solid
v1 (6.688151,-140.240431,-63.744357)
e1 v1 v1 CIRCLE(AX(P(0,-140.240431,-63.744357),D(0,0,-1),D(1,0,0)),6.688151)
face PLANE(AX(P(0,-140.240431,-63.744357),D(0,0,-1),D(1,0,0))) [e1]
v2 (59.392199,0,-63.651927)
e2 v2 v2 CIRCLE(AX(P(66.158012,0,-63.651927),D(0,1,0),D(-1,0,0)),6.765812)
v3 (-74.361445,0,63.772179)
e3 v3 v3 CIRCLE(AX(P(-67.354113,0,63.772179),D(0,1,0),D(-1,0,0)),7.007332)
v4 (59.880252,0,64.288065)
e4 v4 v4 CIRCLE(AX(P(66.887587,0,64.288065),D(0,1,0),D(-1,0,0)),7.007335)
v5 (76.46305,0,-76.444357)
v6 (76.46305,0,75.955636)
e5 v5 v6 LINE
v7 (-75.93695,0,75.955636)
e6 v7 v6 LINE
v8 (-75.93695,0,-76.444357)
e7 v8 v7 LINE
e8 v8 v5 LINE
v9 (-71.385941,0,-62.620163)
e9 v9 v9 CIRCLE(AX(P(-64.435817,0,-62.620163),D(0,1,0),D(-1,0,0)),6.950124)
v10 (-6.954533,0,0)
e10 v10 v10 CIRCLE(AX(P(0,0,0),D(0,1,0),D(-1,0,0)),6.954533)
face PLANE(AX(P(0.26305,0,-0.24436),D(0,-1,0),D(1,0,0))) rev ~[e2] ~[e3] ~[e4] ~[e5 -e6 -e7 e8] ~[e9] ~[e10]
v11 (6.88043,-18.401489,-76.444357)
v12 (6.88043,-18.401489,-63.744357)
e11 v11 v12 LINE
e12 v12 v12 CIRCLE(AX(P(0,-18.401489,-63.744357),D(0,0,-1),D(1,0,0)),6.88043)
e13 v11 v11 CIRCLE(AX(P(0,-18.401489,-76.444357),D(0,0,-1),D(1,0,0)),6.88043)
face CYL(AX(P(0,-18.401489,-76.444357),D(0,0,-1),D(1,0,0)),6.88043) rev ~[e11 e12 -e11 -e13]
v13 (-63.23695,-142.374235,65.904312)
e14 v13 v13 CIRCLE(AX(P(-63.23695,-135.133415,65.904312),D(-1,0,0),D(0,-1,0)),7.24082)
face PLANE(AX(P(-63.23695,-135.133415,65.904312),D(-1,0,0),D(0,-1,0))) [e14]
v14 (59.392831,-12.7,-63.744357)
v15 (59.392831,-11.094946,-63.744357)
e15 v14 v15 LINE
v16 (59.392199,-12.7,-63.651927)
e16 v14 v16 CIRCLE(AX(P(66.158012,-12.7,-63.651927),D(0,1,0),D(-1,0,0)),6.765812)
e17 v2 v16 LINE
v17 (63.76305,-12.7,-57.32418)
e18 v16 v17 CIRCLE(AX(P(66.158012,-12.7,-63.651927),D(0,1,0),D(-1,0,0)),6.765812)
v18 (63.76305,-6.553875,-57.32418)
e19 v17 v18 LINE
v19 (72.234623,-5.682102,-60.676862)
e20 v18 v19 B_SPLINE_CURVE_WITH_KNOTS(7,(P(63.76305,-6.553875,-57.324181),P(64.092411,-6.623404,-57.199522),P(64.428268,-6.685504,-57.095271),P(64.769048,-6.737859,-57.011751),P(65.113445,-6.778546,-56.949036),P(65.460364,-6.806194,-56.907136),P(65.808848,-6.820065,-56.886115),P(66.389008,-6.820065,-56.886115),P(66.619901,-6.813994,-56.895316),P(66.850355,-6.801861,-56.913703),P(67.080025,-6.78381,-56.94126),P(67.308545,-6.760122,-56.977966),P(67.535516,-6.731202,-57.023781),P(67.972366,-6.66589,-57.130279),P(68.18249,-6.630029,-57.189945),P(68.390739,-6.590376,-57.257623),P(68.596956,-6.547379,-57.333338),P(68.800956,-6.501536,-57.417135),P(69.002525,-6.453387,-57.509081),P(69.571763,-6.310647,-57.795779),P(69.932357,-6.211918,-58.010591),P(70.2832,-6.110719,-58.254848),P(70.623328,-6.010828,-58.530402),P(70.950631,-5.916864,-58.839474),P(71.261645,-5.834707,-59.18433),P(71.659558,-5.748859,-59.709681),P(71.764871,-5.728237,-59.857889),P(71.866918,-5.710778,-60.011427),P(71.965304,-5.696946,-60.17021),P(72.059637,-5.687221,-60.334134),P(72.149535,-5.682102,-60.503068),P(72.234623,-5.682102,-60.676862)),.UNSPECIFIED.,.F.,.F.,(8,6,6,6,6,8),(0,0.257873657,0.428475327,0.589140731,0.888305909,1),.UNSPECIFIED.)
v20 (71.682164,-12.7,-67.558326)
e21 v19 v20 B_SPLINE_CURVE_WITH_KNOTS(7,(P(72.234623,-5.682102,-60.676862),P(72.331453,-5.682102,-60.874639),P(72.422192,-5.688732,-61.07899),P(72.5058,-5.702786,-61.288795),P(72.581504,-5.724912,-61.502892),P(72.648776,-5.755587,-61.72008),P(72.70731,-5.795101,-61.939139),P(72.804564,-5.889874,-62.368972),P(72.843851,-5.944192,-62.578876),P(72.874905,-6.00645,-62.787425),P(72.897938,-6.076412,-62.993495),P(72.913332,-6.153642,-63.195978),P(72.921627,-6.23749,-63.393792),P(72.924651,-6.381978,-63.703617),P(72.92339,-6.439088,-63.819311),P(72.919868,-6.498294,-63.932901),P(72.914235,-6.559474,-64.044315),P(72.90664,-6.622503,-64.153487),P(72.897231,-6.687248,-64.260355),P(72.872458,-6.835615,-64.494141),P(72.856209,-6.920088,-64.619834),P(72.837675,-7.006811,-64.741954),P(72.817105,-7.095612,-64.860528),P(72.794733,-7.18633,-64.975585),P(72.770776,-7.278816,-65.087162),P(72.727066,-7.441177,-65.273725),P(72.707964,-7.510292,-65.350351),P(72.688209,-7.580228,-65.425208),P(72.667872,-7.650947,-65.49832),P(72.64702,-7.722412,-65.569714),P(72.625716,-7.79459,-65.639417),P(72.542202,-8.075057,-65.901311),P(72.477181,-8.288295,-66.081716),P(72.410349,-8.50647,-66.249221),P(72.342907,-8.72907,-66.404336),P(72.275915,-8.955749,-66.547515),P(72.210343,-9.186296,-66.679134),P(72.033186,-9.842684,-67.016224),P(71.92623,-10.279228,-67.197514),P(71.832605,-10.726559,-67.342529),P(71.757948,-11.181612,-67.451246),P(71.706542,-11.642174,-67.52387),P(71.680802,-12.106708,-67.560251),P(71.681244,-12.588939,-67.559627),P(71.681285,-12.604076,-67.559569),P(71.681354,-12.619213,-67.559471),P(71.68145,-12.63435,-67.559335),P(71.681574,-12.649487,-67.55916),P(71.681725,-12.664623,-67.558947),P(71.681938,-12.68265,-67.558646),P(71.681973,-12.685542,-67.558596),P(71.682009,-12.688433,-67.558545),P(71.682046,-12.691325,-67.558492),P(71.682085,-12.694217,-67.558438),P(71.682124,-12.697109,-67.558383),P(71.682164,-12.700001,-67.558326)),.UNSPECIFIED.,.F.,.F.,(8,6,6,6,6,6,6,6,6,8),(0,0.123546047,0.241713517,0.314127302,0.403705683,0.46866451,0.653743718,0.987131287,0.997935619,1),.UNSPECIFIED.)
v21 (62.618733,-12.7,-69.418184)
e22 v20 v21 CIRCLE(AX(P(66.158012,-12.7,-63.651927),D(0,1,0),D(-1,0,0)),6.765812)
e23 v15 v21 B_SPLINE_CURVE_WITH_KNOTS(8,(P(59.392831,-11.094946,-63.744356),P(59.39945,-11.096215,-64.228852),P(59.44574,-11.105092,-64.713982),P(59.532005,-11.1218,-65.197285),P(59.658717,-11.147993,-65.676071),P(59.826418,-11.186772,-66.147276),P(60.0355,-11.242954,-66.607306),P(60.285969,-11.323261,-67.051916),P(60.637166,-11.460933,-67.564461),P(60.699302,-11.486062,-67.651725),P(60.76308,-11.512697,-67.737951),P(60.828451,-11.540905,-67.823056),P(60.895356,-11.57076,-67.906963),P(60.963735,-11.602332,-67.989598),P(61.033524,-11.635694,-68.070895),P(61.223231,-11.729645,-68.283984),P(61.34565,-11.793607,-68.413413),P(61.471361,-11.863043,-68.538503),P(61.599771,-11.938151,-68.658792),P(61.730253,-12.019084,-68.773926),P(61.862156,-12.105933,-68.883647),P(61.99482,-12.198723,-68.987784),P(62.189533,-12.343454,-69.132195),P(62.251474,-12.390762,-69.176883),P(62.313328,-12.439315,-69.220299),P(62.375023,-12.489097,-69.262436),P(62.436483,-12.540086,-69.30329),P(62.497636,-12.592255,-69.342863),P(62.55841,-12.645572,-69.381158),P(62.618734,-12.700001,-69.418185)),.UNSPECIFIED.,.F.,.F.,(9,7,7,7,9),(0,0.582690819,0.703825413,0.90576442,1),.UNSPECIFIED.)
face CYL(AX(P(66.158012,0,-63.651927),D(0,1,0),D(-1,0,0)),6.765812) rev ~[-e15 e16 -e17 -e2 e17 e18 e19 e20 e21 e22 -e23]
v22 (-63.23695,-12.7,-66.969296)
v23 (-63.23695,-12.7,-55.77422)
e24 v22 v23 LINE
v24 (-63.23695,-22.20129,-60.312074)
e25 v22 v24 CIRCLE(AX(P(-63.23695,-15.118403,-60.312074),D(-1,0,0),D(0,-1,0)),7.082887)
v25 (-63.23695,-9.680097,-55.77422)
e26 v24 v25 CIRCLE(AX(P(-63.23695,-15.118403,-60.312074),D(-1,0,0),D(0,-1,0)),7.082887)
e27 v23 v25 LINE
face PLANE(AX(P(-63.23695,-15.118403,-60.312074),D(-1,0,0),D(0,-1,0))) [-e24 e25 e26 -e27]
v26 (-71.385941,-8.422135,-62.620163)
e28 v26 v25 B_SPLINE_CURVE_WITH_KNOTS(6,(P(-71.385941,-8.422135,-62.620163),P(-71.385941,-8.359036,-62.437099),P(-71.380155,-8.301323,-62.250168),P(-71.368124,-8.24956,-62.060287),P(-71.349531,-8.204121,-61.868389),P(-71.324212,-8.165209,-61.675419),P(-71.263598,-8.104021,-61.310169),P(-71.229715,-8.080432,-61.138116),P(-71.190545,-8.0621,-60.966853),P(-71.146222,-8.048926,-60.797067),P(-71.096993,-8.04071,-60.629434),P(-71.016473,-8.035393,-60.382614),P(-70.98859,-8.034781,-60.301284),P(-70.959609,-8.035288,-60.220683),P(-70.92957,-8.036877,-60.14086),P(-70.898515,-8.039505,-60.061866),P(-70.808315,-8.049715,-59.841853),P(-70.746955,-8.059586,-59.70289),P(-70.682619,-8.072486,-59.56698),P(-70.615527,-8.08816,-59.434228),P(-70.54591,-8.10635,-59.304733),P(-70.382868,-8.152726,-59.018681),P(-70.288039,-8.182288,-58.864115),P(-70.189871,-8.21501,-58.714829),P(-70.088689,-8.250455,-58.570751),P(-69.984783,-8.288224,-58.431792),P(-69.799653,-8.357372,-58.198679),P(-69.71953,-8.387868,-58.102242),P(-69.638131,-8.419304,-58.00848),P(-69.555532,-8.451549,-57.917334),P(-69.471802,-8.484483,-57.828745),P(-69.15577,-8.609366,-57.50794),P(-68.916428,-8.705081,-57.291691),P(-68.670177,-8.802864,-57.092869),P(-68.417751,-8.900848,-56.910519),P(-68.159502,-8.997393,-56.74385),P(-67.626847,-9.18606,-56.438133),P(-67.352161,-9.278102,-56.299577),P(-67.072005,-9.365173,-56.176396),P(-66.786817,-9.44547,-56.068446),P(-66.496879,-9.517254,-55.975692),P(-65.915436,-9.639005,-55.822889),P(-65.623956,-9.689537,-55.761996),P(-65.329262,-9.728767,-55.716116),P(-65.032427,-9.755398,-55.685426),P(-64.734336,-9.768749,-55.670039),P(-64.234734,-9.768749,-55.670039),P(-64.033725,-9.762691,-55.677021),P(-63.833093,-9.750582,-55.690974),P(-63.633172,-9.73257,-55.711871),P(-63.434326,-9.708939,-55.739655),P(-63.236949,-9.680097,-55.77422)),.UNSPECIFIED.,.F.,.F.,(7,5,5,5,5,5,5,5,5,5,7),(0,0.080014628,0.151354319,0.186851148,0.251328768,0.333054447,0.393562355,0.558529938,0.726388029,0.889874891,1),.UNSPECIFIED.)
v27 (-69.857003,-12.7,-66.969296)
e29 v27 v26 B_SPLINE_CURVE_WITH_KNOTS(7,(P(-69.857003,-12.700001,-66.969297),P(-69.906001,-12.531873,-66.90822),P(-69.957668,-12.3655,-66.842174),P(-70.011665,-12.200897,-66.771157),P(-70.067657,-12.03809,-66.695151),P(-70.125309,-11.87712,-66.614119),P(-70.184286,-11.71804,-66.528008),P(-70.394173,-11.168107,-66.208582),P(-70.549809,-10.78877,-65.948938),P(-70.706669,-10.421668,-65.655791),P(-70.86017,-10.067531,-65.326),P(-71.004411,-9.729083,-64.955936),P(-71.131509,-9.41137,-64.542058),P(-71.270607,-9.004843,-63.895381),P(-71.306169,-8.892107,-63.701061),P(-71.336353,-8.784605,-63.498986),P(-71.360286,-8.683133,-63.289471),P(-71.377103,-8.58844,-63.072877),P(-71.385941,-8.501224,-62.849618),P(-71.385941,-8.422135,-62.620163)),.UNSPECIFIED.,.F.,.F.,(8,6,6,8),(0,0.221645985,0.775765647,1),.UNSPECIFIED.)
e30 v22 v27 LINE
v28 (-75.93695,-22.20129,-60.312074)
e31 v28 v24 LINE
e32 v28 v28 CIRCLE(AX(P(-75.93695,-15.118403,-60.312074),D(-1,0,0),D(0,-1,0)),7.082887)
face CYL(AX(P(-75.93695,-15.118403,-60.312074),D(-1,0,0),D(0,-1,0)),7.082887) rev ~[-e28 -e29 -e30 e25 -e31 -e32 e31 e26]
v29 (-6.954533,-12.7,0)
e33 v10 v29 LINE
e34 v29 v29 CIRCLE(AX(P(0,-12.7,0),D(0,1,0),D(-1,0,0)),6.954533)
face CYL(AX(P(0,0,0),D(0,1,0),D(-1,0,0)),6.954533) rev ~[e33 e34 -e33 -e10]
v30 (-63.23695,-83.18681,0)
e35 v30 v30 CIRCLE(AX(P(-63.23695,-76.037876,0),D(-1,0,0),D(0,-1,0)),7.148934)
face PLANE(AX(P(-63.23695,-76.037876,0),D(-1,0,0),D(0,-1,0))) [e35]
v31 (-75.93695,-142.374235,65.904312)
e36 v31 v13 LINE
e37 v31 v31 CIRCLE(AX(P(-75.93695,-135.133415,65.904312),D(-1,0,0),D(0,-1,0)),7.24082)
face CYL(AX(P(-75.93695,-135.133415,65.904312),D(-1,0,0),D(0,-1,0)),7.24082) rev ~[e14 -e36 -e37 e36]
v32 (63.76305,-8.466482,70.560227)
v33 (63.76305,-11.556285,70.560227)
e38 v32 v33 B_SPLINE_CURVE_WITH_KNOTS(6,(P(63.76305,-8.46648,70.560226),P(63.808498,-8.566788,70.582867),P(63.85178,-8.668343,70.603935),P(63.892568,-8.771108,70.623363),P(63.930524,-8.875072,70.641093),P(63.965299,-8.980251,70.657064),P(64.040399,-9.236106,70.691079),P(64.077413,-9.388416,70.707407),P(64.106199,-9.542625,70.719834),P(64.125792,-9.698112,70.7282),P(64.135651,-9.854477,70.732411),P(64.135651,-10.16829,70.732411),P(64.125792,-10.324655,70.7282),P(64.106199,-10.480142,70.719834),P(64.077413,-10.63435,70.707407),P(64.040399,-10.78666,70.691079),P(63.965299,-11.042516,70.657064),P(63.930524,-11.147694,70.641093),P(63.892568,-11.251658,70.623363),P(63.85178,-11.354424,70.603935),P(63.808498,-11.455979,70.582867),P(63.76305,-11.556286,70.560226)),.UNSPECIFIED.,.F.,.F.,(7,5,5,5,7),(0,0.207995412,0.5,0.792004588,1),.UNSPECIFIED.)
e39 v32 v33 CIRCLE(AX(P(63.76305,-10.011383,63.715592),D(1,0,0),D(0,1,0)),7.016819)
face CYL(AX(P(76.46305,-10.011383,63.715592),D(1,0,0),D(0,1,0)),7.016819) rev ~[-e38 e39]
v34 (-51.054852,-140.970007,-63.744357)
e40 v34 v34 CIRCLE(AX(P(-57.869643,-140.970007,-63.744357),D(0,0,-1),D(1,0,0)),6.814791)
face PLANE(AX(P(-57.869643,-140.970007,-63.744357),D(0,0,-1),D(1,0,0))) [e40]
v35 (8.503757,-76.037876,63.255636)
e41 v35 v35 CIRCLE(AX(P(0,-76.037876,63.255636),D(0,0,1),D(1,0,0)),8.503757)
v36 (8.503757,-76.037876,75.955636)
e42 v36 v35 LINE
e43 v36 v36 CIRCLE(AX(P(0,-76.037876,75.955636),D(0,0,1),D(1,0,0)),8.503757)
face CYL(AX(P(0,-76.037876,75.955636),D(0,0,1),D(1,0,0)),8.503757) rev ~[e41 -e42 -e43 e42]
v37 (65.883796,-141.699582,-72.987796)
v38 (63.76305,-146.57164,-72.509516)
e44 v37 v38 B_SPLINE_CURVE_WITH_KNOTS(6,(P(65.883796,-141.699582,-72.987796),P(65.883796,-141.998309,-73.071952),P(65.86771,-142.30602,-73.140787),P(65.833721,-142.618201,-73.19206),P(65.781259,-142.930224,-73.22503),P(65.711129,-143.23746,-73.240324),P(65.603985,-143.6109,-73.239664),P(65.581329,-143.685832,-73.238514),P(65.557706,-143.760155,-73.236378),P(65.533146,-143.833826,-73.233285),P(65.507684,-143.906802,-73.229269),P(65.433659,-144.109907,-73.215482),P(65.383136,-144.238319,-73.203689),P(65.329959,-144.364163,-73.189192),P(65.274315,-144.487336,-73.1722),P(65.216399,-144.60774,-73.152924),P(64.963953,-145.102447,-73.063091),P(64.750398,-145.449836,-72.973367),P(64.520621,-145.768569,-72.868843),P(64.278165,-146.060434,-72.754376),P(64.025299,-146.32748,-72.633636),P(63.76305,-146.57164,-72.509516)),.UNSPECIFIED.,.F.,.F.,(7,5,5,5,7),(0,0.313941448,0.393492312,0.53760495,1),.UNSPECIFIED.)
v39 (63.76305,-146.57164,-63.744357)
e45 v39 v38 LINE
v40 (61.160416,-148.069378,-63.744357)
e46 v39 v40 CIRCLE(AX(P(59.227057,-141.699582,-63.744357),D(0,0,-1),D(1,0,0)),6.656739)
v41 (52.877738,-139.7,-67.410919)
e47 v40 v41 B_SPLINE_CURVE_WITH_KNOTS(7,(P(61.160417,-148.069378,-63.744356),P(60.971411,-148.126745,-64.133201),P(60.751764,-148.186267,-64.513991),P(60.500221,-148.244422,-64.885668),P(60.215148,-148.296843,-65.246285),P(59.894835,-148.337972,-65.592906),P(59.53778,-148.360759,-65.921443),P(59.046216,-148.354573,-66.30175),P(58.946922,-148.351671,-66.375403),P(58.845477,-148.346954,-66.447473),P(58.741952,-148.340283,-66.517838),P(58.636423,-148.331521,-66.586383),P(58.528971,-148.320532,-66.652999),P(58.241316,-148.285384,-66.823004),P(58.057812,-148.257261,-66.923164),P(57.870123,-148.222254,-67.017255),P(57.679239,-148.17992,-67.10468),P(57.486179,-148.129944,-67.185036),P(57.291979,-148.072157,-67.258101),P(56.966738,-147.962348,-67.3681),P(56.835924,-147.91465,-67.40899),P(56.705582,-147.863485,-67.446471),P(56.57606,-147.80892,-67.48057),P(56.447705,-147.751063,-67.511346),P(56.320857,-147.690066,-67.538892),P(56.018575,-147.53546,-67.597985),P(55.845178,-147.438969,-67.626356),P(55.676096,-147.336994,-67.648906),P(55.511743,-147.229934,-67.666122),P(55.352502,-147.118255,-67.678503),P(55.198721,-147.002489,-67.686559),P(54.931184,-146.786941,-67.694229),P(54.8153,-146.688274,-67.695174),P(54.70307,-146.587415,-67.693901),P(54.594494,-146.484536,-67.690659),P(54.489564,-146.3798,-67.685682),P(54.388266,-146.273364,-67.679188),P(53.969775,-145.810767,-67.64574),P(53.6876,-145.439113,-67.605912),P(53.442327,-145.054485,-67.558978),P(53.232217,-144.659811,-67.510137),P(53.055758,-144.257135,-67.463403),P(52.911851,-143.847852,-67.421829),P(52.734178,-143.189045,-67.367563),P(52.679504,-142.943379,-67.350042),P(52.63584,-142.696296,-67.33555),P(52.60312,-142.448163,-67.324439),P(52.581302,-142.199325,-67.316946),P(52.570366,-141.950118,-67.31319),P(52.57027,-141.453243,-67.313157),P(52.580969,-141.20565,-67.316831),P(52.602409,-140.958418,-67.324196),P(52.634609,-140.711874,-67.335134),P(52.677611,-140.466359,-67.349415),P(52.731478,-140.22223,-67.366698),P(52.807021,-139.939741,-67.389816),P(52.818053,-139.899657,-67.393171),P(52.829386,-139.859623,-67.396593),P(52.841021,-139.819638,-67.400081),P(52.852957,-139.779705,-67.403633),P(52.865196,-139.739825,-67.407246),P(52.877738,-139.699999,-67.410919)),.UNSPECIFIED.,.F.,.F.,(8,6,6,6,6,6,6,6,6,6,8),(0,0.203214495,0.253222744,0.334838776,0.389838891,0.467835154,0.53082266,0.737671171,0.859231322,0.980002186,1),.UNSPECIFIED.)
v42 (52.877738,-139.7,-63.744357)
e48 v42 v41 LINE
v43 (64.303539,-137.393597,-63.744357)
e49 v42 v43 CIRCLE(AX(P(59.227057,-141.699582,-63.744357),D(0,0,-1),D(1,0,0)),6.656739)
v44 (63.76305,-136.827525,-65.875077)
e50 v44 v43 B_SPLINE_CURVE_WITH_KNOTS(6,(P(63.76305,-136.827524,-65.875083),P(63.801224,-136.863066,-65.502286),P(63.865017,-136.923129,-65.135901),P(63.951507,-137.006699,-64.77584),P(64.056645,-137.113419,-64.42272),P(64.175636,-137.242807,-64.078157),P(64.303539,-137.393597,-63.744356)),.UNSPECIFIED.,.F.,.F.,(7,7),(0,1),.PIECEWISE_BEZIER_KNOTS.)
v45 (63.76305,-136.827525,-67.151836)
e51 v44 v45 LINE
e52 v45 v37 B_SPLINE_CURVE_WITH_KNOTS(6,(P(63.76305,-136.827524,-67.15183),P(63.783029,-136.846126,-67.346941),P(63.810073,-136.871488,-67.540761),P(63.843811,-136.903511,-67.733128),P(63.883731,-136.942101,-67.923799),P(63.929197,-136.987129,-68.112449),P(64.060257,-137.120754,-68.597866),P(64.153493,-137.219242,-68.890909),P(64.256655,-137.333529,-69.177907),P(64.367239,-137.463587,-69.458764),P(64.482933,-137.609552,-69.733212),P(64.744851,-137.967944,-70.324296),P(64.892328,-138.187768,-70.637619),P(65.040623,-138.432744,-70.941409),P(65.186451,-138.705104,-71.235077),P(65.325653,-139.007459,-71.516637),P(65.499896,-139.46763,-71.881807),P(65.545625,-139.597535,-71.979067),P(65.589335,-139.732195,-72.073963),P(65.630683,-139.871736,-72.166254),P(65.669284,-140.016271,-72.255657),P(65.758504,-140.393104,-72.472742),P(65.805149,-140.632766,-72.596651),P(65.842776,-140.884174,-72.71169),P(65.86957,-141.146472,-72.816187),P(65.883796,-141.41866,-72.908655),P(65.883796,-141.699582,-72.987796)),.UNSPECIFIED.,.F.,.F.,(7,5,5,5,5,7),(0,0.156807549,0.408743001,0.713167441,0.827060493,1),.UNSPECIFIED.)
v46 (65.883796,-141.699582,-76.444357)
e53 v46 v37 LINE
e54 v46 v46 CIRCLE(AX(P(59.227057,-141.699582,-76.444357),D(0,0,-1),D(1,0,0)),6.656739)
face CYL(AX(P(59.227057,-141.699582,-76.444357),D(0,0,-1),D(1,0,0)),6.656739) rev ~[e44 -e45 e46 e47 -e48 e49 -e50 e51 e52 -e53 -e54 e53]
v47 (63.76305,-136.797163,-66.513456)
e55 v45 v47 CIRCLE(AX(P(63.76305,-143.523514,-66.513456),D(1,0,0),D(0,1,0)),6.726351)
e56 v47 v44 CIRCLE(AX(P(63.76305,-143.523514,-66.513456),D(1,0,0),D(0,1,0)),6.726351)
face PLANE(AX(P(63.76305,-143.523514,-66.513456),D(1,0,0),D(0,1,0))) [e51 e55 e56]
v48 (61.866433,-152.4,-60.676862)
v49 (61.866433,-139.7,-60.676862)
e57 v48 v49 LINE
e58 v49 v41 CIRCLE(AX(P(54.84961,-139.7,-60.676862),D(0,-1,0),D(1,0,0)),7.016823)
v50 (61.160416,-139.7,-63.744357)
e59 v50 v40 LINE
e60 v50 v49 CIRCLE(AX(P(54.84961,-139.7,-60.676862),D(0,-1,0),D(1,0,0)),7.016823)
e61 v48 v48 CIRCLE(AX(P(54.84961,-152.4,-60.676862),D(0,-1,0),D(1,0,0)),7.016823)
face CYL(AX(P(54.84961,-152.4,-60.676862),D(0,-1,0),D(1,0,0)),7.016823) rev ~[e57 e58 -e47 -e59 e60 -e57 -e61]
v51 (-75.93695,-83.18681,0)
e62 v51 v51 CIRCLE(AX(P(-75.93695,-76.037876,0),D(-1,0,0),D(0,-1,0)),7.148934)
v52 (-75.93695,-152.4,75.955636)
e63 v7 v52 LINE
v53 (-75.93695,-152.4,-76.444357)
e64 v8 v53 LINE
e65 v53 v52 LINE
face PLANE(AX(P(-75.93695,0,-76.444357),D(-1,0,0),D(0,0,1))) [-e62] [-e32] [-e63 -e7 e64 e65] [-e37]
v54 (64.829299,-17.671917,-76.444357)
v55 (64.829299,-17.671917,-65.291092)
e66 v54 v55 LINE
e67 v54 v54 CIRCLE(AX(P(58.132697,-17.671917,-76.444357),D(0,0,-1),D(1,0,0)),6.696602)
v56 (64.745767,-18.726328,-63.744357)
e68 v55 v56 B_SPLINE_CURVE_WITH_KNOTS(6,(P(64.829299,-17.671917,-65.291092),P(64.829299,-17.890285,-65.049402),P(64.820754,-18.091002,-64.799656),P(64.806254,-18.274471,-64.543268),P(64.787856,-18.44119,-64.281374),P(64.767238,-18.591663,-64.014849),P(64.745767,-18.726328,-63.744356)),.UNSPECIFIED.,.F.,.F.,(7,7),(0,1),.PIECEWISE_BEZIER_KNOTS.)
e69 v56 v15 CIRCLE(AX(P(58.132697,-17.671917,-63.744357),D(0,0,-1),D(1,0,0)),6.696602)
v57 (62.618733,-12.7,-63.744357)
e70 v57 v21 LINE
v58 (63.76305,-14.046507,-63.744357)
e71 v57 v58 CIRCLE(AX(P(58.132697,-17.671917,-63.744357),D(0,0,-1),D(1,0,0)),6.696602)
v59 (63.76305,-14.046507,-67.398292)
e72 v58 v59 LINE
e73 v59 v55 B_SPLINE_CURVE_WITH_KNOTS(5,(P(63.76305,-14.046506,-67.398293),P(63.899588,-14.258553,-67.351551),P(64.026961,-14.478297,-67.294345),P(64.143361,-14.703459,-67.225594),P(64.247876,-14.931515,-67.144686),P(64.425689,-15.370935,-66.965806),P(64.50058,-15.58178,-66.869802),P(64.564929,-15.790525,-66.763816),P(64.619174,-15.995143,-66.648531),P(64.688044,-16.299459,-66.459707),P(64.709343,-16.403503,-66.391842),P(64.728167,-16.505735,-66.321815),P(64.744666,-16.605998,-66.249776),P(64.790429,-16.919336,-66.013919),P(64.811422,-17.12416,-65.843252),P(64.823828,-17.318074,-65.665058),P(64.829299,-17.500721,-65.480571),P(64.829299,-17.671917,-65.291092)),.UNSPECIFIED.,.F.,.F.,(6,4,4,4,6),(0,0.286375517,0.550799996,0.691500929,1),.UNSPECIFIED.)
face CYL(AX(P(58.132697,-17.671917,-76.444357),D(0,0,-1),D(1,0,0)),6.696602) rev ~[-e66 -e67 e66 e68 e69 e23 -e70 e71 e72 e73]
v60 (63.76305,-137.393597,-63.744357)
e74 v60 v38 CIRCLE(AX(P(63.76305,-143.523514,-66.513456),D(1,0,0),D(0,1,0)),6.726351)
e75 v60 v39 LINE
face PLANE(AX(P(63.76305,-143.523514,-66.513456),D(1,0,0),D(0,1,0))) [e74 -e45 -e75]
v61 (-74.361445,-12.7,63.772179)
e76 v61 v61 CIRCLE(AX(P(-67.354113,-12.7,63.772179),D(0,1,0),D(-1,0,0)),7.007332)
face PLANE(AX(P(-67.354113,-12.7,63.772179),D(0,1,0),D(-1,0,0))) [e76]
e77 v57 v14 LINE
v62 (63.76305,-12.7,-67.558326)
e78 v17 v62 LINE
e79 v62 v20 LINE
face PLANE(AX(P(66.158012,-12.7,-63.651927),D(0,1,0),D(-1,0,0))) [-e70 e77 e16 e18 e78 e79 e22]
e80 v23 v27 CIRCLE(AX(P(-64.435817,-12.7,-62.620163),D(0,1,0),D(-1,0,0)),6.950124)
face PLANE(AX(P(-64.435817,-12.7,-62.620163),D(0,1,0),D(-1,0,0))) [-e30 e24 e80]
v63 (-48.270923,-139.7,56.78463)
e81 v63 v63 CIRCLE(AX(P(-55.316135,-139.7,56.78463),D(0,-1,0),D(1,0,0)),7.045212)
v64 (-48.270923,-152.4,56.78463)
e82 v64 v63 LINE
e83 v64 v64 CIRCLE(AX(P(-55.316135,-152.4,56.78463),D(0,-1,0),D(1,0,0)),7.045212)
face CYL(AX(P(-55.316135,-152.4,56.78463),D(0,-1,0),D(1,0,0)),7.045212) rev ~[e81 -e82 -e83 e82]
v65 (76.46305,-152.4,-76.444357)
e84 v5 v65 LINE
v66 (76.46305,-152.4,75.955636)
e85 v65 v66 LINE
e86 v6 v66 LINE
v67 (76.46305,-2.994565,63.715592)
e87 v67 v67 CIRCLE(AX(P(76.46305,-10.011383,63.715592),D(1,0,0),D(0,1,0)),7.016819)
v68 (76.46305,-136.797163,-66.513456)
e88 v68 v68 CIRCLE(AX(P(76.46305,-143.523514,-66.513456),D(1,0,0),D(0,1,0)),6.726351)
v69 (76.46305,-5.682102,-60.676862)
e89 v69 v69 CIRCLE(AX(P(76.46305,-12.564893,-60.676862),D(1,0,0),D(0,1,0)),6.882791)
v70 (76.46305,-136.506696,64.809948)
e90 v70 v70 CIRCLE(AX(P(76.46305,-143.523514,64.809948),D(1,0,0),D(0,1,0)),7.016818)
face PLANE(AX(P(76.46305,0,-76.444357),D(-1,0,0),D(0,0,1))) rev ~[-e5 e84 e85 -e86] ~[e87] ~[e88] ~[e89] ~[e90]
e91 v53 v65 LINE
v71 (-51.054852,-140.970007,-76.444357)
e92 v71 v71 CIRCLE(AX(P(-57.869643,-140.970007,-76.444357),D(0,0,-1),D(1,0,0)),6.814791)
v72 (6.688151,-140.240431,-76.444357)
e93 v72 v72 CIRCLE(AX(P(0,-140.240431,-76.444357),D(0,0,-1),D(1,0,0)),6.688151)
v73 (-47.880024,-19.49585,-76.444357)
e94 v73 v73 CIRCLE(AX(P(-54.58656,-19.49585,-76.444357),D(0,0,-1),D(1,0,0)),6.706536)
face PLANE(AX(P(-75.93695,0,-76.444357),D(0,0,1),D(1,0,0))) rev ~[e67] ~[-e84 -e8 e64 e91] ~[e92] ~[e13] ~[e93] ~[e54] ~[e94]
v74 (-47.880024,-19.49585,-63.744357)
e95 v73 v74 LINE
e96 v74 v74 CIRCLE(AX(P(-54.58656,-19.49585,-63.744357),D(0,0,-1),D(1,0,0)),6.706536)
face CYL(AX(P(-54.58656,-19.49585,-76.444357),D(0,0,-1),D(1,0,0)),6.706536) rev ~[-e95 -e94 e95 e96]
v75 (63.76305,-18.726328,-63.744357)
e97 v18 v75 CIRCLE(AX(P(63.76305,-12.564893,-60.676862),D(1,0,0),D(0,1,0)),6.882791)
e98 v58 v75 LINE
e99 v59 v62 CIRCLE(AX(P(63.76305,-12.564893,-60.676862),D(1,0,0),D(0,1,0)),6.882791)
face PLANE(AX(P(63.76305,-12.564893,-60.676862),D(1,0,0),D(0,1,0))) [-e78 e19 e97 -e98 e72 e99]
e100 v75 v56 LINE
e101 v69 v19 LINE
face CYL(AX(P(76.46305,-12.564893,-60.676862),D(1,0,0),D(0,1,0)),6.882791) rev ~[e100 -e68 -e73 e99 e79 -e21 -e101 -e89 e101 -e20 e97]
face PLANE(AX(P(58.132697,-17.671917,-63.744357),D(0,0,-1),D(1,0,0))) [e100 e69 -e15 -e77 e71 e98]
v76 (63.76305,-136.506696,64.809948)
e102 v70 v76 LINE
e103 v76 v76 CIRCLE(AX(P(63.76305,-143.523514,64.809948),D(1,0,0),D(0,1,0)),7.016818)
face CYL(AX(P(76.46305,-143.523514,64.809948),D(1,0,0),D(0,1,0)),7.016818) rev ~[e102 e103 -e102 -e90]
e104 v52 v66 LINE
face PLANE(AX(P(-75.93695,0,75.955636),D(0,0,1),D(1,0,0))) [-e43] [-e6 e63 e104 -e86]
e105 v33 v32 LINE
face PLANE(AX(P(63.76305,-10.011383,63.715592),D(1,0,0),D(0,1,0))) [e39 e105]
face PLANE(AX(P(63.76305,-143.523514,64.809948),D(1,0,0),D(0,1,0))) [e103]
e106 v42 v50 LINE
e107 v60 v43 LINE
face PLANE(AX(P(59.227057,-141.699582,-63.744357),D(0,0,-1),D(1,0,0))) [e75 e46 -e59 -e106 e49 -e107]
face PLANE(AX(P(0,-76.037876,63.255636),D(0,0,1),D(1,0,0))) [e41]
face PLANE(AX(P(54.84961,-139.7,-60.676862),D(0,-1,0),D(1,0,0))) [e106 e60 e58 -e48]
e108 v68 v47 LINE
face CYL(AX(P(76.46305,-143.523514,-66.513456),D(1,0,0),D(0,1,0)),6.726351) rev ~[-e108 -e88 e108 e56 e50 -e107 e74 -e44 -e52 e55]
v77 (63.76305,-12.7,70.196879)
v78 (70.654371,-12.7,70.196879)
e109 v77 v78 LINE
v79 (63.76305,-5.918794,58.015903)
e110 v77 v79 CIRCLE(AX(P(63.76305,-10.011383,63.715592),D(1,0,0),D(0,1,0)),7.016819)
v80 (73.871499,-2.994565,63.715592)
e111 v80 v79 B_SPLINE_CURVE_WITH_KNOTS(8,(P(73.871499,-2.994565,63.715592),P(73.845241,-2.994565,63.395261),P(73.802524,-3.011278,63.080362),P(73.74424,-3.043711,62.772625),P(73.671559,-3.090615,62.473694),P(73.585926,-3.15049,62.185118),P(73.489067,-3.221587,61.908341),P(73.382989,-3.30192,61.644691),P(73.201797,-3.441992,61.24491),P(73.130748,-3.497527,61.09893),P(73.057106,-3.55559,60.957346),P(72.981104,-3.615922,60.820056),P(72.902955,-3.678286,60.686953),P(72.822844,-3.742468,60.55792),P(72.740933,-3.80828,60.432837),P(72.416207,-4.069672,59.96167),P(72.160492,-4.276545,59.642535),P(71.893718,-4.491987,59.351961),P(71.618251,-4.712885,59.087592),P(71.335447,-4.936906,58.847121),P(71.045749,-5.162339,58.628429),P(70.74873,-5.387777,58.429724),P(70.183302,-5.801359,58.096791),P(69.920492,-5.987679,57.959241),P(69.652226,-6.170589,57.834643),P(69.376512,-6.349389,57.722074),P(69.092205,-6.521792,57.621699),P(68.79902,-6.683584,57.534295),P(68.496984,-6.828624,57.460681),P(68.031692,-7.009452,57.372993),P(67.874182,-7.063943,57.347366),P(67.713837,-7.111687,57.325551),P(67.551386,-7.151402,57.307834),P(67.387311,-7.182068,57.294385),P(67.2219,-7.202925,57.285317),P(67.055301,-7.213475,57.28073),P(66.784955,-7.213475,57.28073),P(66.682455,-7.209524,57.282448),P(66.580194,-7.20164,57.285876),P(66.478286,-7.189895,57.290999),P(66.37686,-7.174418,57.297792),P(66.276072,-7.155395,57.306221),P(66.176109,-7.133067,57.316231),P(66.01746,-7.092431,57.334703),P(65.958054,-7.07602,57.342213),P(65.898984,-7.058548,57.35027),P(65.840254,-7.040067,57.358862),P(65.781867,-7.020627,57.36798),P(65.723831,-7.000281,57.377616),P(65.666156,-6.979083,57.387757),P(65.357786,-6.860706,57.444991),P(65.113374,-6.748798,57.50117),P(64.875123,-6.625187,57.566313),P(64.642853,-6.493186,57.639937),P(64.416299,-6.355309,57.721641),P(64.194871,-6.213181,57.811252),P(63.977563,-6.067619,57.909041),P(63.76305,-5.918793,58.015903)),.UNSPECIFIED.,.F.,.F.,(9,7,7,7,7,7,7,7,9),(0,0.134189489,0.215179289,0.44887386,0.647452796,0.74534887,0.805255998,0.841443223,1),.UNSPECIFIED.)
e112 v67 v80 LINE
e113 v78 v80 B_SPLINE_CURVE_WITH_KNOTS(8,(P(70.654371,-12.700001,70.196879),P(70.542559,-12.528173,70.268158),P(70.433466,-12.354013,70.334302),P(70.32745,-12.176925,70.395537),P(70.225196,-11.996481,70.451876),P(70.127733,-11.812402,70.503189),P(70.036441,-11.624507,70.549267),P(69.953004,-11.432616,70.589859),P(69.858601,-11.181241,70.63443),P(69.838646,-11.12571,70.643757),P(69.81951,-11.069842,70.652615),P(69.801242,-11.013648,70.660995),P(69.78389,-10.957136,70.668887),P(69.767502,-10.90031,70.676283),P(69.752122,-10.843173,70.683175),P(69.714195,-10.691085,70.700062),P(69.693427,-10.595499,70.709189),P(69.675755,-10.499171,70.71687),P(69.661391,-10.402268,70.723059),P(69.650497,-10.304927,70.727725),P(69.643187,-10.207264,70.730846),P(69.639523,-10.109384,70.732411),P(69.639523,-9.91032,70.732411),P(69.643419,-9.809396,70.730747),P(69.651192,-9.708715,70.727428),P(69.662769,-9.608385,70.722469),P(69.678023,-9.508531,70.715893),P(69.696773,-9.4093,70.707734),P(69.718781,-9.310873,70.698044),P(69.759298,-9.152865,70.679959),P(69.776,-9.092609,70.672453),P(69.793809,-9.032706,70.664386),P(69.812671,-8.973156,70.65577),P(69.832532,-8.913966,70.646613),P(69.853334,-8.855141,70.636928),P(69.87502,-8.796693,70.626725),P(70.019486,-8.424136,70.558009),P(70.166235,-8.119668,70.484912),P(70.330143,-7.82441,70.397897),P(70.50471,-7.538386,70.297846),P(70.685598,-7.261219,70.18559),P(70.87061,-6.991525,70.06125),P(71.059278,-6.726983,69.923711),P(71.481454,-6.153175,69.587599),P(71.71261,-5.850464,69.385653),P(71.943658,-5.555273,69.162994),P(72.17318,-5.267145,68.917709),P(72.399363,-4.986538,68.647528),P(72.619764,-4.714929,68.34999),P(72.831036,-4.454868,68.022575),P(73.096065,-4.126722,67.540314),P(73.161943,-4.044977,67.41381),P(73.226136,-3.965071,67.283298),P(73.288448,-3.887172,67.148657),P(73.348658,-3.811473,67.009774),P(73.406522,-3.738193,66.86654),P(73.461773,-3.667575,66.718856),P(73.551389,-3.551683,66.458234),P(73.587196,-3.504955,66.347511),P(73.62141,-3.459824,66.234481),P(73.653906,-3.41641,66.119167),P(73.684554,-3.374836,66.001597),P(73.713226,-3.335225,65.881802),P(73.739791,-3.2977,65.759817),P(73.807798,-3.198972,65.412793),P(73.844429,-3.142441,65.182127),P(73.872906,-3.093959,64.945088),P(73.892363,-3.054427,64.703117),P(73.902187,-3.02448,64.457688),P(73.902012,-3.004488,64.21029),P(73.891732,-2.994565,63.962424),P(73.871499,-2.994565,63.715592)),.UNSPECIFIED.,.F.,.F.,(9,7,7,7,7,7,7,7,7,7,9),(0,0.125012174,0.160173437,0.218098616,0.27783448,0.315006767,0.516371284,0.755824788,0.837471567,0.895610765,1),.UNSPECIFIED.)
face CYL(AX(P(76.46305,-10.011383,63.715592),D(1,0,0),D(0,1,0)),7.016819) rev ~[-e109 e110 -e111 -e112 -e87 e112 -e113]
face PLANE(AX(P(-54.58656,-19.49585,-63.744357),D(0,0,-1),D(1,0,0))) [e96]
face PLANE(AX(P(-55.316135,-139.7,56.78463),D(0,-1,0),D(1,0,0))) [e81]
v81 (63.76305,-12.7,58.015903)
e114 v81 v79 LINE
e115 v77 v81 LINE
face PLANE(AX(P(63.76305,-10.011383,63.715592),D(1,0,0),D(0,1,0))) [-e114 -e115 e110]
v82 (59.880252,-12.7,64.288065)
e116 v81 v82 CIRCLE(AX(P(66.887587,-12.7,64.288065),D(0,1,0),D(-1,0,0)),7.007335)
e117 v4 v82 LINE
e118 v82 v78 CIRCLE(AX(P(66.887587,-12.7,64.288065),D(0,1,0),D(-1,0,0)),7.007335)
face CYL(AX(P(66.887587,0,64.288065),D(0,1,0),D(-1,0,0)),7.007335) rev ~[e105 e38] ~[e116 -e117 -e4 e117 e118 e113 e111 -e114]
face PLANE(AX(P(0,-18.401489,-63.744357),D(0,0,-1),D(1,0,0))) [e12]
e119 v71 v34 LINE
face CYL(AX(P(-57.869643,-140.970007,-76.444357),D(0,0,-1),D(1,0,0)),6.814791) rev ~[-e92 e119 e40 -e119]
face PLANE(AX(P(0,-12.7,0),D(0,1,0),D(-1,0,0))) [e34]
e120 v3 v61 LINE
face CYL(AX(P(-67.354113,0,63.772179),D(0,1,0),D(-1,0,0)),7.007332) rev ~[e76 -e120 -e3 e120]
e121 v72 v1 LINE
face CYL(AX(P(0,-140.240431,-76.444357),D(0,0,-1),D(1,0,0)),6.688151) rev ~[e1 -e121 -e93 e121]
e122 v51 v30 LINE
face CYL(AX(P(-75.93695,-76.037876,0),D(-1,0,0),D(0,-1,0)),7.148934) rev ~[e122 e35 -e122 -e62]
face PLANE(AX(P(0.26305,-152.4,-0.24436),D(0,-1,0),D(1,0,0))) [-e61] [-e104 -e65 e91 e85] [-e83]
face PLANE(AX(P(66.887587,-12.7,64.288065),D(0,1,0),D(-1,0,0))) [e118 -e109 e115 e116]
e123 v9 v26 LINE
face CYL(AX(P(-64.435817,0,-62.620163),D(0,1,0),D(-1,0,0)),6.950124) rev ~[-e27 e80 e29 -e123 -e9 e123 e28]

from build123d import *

# Parameters (mm, degrees)
F0_W      = 152.4
F0_H      = 152.399992557
F1_DEPTH  = 152.4
F2_R      = 8.5037572656
F3_DEPTH  = 12.7
F4_R      = 7.0073319603
F4_R_2    = 6.9501235212
F4_R_3    = 6.7658122989
F5_DEPTH  = 12.7
F6_R      = 7.0073351943
F6_R_2    = 6.9545325537
F7_DEPTH  = 12.7
F8_R      = 7.0452123399
F8_R_2    = 7.0168230938
F9_DEPTH  = 12.7
F10_R     = 7.0828869948
F10_R_2   = 7.1489340482
F10_R_3   = 7.2408196542
F11_DEPTH = 12.7
F12_R     = 6.6966018478
F12_R_2   = 6.8804301319
F12_R_3   = 6.7065356098
F12_R_4   = 6.6881507526
F12_R_5   = 6.8147907528
F12_R_6   = 6.6567393836
F13_DEPTH = 12.7
F14_R     = 7.0168186878
F14_R_2   = 6.8827909579
F14_R_3   = 7.0168182521
F14_R_4   = 6.7263512429
F15_DEPTH = 12.7


with BuildPart() as f1:
    # F0 (on Front) → F1 (new body)
    with BuildSketch(Plane.XZ):
        with Locations((0.2630501986, -0.2443604171)):
            Rectangle(F0_W, F0_H)
    extrude(amount=F1_DEPTH)

    # F2 (on face) → F3 (cut)
    with BuildSketch(Plane.XY.offset(75.9556358614)):
        with Locations((0, -76.037876308)):
            Circle(F2_R)
    extrude(amount=-F3_DEPTH, mode=Mode.SUBTRACT)

    # F4 (on face) → F5 (cut)
    with BuildSketch(Plane(origin=(0, 0, 0), x_dir=(-1, 0, 0), z_dir=(0, 1, 0))):
        with Locations((67.3541128635, 63.7721791863)):
            Circle(F4_R)
        with Locations((64.4358173013, -62.6201629639)):
            Circle(F4_R_2)
        with Locations((-66.1580115557, -63.6519268155)):
            Circle(F4_R_3)
    extrude(amount=-F5_DEPTH, mode=Mode.SUBTRACT)

    # F6 (on face) → F7 (cut)
    with BuildSketch(Plane(origin=(0, 0, 0), x_dir=(-1, 0, 0), z_dir=(0, 1, 0))):
        with Locations((-66.8875873089, 64.2880648375)):
            Circle(F6_R)
        Circle(F6_R_2)
    extrude(amount=-F7_DEPTH, mode=Mode.SUBTRACT)

    # F8 (on face) → F9 (cut)
    with BuildSketch(Plane.XZ.offset(152.4)):
        with Locations((-55.3161352873, 56.7846298218)):
            Circle(F8_R)
        with Locations((54.8496097326, -60.6768615544)):
            Circle(F8_R_2)
    extrude(amount=-F9_DEPTH, mode=Mode.SUBTRACT)

    # F10 (on face) → F11 (cut)
    with BuildSketch(Plane(origin=(-75.9369498014, 0, 0), x_dir=(0, -1, 0), z_dir=(-1, 0, 0))):
        with Locations((15.1184033602, -60.3120736778)):
            Circle(F10_R)
        with Locations((76.037876308, 0)):
            Circle(F10_R_2)
        with Locations((135.1334154606, 65.9043118358)):
            Circle(F10_R_3)
    extrude(amount=-F11_DEPTH, mode=Mode.SUBTRACT)

    # F12 (on face) → F13 (cut)
    with BuildSketch(Plane(origin=(0, 0, -76.4443566957), x_dir=(1, 0, 0), z_dir=(0, 0, -1))):
        with Locations((58.1326968968, 17.6719166338)):
            Circle(F12_R)
        with Locations((0, 18.4014886618)):
            Circle(F12_R_2)
        with Locations((-54.5865595341, 19.4958504289)):
            Circle(F12_R_3)
        with Locations((0, 140.2404308319)):
            Circle(F12_R_4)
        with Locations((-57.8696429729, 140.9700065851)):
            Circle(F12_R_5)
        with Locations((59.2270568013, 141.6995823383)):
            Circle(F12_R_6)
    extrude(amount=-F13_DEPTH, mode=Mode.SUBTRACT)

    # F14 (on face) → F15 (cut)
    with BuildSketch(Plane.YZ.offset(76.4630501986)):
        with Locations((-10.0113833323, 63.7155920267)):
            Circle(F14_R)
        with Locations((-12.5648928806, -60.6768615544)):
            Circle(F14_R_2)
        with Locations((-143.5235142708, 64.8099482059)):
            Circle(F14_R_3)
        with Locations((-143.5235142708, -66.5134564042)):
            Circle(F14_R_4)
    extrude(amount=-F15_DEPTH, mode=Mode.SUBTRACT)


solid = f1.part
